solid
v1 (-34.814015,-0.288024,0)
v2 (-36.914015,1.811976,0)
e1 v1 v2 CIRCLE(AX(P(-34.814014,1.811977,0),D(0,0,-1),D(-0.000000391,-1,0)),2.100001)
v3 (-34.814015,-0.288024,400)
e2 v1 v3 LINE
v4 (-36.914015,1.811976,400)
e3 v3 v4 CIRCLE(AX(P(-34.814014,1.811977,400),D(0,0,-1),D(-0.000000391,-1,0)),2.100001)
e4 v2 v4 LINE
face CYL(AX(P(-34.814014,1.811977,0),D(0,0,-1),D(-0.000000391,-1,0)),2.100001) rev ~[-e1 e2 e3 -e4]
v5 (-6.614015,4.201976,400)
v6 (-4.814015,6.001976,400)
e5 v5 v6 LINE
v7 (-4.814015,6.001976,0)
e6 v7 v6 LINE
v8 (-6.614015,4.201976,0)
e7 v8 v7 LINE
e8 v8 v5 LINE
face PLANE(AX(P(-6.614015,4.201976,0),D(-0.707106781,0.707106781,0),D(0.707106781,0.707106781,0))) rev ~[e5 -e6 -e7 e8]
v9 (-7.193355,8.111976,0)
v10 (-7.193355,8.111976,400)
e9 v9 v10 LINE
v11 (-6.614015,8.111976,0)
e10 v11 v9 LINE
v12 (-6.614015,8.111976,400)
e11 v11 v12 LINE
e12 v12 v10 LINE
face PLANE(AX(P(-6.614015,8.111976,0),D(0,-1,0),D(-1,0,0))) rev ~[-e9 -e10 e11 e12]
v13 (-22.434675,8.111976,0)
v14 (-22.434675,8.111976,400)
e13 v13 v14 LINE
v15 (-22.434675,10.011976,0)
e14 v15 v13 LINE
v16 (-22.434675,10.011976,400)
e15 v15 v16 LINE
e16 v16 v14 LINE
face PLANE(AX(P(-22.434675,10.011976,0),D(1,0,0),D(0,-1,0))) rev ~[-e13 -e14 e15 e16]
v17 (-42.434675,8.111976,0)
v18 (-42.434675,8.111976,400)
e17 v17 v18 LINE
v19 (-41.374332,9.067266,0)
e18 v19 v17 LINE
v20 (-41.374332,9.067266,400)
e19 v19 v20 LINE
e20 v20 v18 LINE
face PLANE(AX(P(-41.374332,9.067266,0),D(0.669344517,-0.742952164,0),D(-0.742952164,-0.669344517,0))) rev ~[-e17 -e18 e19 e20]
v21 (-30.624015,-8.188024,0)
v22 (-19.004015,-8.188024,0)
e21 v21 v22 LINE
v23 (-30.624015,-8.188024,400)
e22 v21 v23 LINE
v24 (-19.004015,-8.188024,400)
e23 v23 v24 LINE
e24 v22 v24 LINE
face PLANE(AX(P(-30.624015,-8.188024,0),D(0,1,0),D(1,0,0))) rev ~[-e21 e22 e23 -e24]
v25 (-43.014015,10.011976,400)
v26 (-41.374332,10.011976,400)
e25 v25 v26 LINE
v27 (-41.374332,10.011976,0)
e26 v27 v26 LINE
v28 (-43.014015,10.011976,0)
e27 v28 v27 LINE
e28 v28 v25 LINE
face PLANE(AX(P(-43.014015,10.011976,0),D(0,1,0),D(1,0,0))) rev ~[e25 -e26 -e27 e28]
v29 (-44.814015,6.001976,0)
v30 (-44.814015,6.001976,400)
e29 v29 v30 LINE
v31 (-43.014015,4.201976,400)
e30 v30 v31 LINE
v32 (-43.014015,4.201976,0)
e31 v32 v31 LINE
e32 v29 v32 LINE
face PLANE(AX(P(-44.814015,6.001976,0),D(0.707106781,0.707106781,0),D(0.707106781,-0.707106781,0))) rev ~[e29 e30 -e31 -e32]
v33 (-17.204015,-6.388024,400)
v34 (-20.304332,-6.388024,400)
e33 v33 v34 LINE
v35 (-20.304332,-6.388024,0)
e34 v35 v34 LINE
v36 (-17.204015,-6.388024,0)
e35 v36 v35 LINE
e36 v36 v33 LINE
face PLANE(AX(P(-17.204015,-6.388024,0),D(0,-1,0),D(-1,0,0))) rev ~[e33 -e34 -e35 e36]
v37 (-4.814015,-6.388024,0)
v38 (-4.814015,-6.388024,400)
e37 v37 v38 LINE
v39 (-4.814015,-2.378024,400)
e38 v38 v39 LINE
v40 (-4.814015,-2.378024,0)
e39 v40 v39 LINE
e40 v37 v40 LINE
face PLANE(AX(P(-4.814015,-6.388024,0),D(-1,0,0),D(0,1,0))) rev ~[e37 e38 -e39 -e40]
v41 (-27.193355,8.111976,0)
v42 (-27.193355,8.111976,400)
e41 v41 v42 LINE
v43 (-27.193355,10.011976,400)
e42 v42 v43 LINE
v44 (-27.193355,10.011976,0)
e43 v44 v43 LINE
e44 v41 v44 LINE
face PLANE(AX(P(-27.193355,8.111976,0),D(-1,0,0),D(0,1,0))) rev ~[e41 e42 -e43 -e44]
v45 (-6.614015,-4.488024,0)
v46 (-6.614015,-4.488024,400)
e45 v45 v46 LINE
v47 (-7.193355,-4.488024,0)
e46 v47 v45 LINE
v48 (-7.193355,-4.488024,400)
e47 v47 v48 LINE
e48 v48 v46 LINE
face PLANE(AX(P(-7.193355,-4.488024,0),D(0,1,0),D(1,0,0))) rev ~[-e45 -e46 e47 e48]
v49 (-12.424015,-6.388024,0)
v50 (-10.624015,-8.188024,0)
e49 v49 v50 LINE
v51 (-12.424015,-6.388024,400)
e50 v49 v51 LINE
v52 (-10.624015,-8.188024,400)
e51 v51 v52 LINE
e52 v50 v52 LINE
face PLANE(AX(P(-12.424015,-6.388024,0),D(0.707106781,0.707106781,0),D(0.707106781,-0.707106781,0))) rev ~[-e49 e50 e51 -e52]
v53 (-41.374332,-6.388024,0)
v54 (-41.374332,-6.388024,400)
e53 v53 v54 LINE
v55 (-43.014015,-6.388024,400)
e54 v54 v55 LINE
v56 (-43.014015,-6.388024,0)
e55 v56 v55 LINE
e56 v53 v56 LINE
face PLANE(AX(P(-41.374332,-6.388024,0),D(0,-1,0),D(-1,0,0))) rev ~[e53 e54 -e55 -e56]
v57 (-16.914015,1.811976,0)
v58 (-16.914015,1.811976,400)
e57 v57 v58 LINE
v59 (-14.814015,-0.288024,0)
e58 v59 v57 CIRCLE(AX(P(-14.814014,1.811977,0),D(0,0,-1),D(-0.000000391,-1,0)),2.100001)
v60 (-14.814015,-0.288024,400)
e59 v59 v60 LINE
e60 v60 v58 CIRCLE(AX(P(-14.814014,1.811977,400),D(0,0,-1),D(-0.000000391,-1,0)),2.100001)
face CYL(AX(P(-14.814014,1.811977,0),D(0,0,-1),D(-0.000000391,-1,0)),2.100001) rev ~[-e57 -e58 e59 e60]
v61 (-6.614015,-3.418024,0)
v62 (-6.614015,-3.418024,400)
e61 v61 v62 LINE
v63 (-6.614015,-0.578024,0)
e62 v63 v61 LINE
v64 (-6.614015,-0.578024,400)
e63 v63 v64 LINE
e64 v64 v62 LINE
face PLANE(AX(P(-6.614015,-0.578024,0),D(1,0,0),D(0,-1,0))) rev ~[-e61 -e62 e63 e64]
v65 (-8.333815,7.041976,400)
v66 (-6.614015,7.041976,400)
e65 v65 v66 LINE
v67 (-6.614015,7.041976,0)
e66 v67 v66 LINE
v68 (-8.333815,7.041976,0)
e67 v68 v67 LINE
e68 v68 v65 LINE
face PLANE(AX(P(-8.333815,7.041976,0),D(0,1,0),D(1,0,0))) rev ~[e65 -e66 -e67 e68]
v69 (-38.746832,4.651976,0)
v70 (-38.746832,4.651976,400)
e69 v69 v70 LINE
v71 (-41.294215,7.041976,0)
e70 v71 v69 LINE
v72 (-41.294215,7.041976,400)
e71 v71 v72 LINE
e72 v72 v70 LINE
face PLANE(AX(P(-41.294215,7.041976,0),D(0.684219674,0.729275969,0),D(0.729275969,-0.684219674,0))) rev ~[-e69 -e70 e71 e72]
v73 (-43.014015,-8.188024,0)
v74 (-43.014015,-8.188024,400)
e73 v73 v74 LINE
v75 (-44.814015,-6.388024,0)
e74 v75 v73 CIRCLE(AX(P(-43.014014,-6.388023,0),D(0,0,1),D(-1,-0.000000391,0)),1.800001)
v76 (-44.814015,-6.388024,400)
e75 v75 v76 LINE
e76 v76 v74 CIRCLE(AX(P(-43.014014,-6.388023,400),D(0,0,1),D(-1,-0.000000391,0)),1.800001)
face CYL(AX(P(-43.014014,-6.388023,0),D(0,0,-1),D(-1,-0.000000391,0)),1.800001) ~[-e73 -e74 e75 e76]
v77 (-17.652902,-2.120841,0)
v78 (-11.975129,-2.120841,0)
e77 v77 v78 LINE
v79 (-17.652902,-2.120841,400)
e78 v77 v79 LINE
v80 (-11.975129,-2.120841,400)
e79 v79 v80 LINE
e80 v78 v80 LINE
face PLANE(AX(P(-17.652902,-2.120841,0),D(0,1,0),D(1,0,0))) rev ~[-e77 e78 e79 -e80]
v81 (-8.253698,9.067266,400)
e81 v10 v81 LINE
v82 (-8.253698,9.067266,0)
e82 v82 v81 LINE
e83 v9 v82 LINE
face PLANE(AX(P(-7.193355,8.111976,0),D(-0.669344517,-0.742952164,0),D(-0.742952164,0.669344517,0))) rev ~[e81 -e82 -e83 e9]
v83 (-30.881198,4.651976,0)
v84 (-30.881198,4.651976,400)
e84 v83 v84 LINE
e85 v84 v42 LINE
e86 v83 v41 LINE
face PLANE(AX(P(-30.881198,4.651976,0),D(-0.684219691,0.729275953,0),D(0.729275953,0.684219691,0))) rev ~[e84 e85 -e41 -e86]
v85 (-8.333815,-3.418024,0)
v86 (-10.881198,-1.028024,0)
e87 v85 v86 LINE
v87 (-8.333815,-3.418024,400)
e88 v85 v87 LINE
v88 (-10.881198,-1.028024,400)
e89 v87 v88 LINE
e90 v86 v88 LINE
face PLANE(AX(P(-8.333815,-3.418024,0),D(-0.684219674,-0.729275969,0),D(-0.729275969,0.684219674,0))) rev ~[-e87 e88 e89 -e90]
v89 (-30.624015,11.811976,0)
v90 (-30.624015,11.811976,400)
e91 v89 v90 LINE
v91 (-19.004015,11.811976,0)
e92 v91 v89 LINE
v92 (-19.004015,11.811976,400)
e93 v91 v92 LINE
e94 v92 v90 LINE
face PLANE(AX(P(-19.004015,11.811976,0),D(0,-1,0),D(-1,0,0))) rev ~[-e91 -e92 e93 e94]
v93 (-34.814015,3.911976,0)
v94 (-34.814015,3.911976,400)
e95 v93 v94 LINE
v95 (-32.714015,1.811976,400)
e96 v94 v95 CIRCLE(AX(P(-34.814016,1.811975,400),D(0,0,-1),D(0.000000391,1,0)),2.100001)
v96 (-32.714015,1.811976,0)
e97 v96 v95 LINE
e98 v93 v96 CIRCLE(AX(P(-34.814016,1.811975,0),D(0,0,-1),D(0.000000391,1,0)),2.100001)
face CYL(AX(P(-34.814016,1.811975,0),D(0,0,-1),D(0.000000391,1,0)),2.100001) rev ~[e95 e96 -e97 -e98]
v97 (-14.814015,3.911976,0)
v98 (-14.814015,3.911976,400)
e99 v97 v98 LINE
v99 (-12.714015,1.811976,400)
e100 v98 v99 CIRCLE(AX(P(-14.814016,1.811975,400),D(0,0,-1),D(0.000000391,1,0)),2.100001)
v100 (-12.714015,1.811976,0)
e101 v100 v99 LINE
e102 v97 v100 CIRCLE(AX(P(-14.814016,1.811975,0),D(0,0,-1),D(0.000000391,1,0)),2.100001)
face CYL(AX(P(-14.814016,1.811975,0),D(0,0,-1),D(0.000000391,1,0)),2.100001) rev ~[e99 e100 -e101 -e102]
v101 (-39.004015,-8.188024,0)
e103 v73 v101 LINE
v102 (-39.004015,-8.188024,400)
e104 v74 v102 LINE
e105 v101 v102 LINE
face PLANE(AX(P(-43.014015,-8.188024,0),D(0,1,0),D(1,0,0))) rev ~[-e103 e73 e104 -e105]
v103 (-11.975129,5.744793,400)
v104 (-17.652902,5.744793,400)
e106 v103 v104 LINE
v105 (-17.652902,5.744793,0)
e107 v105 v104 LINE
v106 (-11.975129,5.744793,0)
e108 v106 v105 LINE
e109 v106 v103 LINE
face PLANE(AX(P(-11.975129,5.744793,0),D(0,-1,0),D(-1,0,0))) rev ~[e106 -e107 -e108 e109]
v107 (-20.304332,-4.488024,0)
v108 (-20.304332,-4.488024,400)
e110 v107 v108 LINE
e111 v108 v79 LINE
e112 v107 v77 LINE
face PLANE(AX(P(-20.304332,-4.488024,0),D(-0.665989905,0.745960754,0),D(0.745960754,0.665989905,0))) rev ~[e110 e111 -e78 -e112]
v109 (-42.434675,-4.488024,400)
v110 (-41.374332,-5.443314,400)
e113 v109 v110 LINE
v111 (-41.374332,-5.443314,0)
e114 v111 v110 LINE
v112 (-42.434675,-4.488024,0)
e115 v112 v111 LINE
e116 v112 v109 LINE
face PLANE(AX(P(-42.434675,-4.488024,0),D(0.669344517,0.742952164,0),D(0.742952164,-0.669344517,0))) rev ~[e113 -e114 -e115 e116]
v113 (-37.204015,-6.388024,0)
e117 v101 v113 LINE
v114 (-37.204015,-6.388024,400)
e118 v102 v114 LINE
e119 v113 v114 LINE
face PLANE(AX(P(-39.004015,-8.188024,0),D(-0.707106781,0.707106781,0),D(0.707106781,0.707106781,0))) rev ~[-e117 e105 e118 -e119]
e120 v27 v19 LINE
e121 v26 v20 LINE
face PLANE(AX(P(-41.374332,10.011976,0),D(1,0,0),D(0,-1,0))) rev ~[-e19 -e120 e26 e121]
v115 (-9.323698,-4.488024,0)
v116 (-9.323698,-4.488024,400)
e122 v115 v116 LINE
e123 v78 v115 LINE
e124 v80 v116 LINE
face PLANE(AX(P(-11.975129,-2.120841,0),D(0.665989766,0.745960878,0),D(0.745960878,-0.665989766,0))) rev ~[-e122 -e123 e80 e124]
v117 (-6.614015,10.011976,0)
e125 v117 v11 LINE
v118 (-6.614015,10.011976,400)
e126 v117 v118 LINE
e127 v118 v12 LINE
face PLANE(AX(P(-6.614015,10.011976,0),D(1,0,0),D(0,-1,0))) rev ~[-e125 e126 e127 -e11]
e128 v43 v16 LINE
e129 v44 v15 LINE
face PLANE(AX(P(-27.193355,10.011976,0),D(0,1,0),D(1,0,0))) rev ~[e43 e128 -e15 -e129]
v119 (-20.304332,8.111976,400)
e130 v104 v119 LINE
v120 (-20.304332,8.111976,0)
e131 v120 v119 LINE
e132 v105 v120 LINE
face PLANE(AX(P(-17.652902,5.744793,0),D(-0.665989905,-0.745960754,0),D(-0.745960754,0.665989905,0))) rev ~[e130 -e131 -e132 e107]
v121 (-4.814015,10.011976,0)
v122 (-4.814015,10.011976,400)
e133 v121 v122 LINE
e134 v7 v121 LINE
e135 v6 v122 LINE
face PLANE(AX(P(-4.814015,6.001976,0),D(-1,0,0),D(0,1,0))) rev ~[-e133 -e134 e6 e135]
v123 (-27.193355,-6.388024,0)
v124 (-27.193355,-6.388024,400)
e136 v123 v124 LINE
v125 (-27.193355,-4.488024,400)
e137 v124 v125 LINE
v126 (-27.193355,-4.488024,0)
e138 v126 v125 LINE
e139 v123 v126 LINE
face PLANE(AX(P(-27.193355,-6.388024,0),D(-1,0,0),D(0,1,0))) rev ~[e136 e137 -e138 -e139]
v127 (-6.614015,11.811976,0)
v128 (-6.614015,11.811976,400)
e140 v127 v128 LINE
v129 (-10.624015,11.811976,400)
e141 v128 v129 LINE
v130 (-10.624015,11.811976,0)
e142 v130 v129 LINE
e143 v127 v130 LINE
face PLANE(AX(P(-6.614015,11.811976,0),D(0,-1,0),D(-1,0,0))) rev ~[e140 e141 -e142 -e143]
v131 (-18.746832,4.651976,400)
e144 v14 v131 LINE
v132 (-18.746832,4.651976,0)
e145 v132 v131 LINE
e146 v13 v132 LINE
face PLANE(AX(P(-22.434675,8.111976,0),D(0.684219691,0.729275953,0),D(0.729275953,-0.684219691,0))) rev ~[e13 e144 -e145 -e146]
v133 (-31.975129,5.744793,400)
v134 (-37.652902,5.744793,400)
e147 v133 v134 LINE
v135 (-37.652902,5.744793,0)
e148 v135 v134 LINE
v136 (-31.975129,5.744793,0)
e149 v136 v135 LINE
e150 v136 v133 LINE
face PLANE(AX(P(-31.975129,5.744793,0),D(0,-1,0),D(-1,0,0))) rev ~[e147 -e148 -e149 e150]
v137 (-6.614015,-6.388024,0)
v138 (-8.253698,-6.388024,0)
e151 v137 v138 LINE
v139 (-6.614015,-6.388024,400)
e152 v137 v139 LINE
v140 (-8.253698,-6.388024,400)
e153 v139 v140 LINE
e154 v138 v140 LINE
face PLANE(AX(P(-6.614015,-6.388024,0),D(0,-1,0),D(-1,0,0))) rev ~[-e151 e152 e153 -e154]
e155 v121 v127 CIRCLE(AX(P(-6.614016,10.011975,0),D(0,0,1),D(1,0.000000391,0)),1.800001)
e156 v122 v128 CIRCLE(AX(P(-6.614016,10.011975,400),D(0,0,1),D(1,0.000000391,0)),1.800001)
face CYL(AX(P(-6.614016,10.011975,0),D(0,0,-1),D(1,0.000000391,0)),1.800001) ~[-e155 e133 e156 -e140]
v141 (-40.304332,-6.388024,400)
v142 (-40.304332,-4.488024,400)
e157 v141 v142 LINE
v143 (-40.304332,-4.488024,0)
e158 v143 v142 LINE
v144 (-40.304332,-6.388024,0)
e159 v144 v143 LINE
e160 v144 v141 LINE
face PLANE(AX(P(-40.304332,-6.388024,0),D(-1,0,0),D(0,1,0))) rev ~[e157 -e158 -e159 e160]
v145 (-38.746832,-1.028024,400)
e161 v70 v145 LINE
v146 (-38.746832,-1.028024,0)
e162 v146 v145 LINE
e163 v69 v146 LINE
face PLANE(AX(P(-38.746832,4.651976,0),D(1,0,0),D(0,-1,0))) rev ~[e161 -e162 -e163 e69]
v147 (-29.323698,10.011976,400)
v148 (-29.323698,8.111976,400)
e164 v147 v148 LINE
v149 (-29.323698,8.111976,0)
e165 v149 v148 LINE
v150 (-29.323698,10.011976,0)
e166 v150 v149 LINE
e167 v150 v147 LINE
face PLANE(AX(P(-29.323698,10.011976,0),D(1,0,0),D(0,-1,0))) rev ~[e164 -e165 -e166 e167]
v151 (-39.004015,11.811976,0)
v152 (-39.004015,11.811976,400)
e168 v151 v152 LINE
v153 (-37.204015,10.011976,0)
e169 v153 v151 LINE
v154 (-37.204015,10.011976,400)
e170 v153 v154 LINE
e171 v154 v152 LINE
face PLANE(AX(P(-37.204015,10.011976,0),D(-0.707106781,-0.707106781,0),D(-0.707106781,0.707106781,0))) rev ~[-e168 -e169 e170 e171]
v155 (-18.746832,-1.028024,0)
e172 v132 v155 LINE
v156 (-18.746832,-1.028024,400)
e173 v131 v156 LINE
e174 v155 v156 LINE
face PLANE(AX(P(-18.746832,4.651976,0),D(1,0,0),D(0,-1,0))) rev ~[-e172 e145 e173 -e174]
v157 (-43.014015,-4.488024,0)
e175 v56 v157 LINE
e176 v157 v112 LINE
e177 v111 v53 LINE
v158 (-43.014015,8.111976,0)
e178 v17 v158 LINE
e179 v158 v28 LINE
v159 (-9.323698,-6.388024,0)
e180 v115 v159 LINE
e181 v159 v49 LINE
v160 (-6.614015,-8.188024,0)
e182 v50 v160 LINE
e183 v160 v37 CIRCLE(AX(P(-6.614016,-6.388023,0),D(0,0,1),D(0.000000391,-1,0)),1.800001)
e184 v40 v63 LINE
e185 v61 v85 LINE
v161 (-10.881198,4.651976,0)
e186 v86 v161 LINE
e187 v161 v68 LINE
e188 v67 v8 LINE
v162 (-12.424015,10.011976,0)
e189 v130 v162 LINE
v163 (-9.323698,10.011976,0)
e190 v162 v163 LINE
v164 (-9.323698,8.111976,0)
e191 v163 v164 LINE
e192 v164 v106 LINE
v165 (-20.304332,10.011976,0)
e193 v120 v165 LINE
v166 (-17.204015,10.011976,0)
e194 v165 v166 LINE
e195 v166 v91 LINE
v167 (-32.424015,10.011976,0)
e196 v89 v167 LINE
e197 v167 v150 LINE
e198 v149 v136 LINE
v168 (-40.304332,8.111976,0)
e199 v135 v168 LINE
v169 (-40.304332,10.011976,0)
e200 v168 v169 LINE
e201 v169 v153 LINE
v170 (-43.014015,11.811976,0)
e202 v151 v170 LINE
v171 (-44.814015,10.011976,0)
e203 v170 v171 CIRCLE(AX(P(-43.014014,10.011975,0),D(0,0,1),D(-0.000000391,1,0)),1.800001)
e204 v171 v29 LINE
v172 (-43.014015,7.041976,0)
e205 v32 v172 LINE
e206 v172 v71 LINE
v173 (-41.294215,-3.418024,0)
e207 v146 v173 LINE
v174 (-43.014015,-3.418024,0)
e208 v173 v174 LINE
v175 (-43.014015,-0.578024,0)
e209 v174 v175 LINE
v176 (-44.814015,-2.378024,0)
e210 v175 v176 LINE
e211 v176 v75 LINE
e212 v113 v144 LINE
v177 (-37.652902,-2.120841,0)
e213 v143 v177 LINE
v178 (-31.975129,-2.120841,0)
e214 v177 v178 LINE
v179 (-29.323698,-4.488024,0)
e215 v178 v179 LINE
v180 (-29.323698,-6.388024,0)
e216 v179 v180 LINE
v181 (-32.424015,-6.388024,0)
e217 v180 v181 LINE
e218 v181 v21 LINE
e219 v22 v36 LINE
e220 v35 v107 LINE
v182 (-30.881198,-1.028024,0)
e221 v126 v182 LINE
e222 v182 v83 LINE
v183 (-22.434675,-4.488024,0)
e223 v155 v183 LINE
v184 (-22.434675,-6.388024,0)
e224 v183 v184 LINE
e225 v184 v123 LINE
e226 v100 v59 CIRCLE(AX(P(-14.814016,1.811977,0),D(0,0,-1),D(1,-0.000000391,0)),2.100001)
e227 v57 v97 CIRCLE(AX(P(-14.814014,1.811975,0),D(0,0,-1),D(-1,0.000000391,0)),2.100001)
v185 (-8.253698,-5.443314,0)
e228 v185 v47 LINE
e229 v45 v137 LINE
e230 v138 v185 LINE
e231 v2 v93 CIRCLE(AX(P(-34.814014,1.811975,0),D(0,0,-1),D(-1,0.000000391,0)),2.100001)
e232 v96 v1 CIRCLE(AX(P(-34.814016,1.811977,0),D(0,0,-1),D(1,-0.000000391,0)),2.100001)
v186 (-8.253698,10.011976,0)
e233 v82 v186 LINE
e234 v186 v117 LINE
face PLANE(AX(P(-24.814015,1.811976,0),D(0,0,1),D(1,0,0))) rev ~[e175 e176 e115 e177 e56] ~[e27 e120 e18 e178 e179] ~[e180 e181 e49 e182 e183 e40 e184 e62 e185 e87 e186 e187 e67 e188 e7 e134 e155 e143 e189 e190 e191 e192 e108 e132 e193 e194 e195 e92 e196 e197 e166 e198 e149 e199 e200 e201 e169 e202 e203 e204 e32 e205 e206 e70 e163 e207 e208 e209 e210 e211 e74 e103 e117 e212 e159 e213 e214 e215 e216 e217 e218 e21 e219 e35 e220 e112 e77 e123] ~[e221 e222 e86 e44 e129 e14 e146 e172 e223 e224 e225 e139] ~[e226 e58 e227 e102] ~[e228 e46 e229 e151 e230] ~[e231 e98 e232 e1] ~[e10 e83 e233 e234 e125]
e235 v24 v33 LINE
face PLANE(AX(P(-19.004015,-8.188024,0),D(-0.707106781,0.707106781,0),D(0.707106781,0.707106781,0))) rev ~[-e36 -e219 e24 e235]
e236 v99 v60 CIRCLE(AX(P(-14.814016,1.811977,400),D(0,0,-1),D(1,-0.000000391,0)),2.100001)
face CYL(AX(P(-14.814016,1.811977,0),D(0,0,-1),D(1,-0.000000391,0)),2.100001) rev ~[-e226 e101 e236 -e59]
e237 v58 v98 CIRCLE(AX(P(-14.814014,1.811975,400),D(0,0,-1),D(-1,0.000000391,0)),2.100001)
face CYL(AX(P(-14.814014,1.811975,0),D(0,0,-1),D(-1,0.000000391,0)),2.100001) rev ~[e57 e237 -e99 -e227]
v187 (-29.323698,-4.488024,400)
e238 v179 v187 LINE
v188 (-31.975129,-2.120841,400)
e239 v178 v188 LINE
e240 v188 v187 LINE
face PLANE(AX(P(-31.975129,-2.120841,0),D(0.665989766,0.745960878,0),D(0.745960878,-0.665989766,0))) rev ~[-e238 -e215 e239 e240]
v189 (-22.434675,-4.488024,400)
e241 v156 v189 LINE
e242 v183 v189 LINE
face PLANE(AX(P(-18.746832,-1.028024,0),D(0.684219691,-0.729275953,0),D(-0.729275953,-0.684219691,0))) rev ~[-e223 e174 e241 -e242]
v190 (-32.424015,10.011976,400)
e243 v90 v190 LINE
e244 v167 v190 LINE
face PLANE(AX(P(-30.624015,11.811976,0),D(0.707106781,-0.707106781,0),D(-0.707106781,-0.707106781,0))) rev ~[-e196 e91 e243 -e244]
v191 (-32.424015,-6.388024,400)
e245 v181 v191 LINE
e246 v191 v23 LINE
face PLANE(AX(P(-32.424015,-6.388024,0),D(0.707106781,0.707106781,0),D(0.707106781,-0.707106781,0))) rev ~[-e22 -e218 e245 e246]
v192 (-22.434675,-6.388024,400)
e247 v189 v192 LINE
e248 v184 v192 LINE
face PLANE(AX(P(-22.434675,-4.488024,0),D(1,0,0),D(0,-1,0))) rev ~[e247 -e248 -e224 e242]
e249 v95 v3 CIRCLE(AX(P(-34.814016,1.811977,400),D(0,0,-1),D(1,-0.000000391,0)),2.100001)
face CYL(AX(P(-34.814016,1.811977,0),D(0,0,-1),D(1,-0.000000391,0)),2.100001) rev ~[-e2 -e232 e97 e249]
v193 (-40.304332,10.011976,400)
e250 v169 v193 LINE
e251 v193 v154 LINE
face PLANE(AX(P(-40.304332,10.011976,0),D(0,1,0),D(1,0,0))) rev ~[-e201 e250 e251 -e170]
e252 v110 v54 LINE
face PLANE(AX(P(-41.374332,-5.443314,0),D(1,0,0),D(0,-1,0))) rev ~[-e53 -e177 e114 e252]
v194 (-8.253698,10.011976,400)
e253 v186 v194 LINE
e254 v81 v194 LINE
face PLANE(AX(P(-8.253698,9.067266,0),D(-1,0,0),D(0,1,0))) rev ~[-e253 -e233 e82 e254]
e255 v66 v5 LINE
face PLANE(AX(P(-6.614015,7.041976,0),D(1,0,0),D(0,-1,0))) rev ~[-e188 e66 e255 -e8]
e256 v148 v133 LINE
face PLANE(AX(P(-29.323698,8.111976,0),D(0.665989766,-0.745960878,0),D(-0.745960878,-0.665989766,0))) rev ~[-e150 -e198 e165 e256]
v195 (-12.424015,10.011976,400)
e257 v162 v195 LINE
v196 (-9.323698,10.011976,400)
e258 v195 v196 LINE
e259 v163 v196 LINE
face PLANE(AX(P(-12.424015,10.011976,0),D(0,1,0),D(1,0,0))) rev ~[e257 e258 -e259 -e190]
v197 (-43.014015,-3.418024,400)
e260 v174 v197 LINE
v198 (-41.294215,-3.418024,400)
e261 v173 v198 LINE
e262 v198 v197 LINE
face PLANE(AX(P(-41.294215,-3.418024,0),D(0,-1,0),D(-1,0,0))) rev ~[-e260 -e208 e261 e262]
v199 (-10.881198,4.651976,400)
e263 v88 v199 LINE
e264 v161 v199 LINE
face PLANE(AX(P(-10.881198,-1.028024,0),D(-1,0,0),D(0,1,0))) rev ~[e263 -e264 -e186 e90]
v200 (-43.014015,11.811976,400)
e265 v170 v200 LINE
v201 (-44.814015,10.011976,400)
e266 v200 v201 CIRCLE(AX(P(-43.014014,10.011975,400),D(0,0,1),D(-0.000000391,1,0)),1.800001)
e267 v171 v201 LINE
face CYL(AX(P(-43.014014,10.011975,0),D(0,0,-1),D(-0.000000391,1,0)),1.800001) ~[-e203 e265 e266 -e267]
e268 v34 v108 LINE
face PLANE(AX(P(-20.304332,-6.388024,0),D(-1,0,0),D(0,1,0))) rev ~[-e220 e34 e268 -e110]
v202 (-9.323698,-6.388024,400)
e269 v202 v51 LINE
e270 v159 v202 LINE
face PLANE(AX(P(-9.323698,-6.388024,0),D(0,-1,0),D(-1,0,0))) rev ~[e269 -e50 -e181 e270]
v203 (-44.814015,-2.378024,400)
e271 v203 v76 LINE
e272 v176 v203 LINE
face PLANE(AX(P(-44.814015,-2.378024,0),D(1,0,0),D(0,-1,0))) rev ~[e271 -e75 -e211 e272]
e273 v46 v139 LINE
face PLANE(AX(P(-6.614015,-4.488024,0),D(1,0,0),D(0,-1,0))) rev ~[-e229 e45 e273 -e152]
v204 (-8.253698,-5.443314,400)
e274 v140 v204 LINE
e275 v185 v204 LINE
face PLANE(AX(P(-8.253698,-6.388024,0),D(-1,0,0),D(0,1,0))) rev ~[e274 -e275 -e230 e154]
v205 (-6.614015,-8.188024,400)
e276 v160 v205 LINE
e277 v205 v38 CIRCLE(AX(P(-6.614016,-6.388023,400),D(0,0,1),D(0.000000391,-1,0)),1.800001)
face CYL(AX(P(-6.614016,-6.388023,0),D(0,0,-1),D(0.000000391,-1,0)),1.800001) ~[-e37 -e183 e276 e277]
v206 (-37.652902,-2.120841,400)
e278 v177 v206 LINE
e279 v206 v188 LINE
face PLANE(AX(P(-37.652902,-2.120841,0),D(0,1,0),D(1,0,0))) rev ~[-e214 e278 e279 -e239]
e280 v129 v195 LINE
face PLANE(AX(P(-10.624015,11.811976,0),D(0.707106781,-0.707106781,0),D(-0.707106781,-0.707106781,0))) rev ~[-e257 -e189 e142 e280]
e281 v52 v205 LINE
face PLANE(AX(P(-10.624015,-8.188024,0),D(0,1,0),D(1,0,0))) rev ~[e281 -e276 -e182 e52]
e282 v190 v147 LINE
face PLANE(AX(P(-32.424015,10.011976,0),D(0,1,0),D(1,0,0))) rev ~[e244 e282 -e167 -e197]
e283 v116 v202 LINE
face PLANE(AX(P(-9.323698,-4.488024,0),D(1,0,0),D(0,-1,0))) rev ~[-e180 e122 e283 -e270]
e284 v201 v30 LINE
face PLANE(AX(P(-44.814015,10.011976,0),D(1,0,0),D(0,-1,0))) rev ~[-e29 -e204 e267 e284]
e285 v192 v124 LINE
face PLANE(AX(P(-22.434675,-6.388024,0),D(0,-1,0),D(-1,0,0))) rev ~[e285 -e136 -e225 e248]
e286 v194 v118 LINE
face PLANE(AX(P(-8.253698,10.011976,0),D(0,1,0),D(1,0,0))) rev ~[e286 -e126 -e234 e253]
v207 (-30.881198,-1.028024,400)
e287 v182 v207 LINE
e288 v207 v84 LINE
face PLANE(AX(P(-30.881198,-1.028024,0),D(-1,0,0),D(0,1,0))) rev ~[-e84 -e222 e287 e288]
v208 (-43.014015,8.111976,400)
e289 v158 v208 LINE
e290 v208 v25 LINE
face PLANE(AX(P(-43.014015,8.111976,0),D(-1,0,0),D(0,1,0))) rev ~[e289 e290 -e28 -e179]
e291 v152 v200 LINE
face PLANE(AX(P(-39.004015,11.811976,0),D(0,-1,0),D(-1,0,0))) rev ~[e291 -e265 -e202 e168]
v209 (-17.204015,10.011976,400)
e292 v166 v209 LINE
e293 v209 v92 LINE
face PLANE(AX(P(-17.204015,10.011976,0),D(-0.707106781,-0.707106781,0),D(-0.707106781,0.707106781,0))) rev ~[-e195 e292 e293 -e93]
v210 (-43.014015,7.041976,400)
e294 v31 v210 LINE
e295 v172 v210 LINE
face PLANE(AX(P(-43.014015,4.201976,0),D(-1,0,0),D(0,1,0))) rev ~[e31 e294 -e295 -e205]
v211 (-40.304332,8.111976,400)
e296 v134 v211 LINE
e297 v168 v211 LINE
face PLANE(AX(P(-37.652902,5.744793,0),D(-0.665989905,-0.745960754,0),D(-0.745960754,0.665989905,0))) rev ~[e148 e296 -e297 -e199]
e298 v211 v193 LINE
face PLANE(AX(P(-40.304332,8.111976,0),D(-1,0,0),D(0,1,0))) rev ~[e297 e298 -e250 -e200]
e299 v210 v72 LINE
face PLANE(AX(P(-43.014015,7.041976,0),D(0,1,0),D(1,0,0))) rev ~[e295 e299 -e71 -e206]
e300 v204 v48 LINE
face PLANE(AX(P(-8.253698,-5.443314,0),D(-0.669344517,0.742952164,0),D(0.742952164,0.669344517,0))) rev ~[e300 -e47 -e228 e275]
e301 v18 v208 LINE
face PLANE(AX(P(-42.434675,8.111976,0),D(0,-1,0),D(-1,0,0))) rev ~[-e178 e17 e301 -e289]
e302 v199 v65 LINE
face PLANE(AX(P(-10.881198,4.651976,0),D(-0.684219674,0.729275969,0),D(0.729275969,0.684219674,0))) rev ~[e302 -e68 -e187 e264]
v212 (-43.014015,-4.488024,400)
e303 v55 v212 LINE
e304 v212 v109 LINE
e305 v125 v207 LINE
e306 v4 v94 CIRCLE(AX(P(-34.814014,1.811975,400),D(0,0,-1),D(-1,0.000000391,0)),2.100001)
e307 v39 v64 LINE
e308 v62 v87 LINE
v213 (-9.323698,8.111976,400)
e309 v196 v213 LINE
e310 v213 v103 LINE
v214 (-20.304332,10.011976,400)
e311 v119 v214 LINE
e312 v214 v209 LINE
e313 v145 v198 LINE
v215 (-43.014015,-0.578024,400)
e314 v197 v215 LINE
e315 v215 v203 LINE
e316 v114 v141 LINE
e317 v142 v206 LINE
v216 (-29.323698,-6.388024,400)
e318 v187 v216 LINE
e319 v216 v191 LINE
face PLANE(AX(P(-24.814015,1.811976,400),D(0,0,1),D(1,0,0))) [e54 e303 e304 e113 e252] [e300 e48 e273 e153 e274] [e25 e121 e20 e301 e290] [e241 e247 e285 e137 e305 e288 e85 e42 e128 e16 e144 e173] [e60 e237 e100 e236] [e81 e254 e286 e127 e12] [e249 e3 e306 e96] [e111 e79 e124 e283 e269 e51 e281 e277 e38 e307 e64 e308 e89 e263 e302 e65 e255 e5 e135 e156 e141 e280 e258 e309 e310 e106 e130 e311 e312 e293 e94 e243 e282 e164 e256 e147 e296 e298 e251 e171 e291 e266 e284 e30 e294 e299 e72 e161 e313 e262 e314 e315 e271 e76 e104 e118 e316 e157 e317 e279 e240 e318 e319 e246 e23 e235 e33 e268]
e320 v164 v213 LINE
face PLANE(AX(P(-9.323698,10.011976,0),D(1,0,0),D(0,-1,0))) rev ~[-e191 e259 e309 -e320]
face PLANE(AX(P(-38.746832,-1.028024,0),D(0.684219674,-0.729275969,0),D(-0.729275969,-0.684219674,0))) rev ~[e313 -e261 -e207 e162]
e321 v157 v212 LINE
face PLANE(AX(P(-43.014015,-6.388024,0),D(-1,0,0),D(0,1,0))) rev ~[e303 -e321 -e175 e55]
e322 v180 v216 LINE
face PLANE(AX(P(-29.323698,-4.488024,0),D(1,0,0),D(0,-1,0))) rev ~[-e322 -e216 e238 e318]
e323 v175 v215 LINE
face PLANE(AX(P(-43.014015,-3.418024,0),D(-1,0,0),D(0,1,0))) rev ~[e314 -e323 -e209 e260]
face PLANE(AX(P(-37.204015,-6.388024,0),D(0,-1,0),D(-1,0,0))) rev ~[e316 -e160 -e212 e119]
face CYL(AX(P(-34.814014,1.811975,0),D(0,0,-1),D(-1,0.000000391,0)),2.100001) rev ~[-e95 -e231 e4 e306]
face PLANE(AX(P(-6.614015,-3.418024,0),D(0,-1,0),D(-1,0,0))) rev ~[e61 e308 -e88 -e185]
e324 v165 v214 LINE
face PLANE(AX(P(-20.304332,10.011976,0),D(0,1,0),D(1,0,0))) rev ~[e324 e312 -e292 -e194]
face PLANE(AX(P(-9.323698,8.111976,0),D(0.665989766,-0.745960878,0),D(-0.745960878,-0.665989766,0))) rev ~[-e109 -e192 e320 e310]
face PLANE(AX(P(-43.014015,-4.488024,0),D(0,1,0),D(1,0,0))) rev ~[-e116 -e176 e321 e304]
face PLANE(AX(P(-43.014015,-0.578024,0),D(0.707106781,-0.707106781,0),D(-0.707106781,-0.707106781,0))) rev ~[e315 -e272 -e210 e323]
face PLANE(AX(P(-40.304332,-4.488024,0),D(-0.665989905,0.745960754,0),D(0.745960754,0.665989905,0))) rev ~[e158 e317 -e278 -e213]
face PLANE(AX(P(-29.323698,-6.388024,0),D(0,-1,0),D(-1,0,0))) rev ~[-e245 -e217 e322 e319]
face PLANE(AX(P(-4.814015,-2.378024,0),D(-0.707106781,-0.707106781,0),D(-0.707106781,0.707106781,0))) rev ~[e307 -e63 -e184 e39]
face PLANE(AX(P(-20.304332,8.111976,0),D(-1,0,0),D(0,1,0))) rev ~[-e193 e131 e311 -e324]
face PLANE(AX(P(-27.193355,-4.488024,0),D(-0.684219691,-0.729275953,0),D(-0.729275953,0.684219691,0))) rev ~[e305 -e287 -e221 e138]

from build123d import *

# Parameters (mm, degrees)
F1_DEPTH = 400


with BuildPart() as f1:
    # F0 (on Top) → F1 (new body)
    with BuildSketch(Plane.XY):
        with BuildLine():
            ThreePointArc((-43.014015, 11.811976), (-44.286807, 11.284768), (-44.814015, 10.011976))
            Line((-44.814015, 10.011976), (-44.814015, 6.001976))
            Line((-44.814015, 6.001976), (-43.014015, 4.201976))
            Line((-43.014015, 4.201976), (-43.014015, 7.041976))
            Line((-43.014015, 7.041976), (-41.294215, 7.041976))
            Line((-41.294215, 7.041976), (-38.746832, 4.651976))
            Line((-38.746832, 4.651976), (-38.746832, 1.811976))
            Line((-38.746832, 1.811976), (-38.746832, -1.028024))
            Line((-38.746832, -1.028024), (-41.294215, -3.418024))
            Line((-41.294215, -3.418024), (-43.014015, -3.418024))
            Line((-43.014015, -3.418024), (-43.014015, -0.578024))
            Line((-43.014015, -0.578024), (-44.814015, -2.378024))
            Line((-44.814015, -2.378024), (-44.814015, -6.388024))
            ThreePointArc((-44.814015, -6.388024), (-44.286807, -7.660816), (-43.014015, -8.188024))
            Line((-43.014015, -8.188024), (-39.004015, -8.188024))
            Line((-39.004015, -8.188024), (-37.204015, -6.388024))
            Line((-37.204015, -6.388024), (-40.304332, -6.388024))
            Line((-40.304332, -6.388024), (-40.304332, -4.488024))
            Line((-40.304332, -4.488024), (-37.652902, -2.120841))
            Line((-37.652902, -2.120841), (-34.814015, -2.120841))
            Line((-34.814015, -2.120841), (-31.975129, -2.120841))
            Line((-31.975129, -2.120841), (-29.323698, -4.488024))
            Line((-29.323698, -4.488024), (-29.323698, -6.388024))
            Line((-29.323698, -6.388024), (-32.424015, -6.388024))
            Line((-32.424015, -6.388024), (-30.624015, -8.188024))
            Line((-30.624015, -8.188024), (-26.614015, -8.188024))
            Line((-26.614015, -8.188024), (-23.014015, -8.188024))
            Line((-23.014015, -8.188024), (-19.004015, -8.188024))
            Line((-19.004015, -8.188024), (-17.204015, -6.388024))
            Line((-17.204015, -6.388024), (-20.304332, -6.388024))
            Line((-20.304332, -6.388024), (-20.304332, -4.488024))
            Line((-20.304332, -4.488024), (-17.652902, -2.120841))
            Line((-17.652902, -2.120841), (-14.814015, -2.120841))
            Line((-14.814015, -2.120841), (-11.975129, -2.120841))
            Line((-11.975129, -2.120841), (-9.323698, -4.488024))
            Line((-9.323698, -4.488024), (-9.323698, -6.388024))
            Line((-9.323698, -6.388024), (-12.424015, -6.388024))
            Line((-12.424015, -6.388024), (-10.624015, -8.188024))
            Line((-10.624015, -8.188024), (-6.614015, -8.188024))
            ThreePointArc((-6.614015, -8.188024), (-5.341223, -7.660816), (-4.814015, -6.388024))
            Line((-4.814015, -6.388024), (-4.814015, -2.378024))
            Line((-4.814015, -2.378024), (-6.614015, -0.578024))
            Line((-6.614015, -0.578024), (-6.614015, -3.418024))
            Line((-6.614015, -3.418024), (-8.333815, -3.418024))
            Line((-8.333815, -3.418024), (-10.881198, -1.028024))
            Line((-10.881198, -1.028024), (-10.881198, 1.811976))
            Line((-10.881198, 1.811976), (-10.881198, 4.651976))
            Line((-10.881198, 4.651976), (-8.333815, 7.041976))
            Line((-8.333815, 7.041976), (-6.614015, 7.041976))
            Line((-6.614015, 7.041976), (-6.614015, 4.201976))
            Line((-6.614015, 4.201976), (-4.814015, 6.001976))
            Line((-4.814015, 6.001976), (-4.814015, 10.011976))
            ThreePointArc((-4.814015, 10.011976), (-5.341223, 11.284768), (-6.614015, 11.811976))
            Line((-6.614015, 11.811976), (-10.624015, 11.811976))
            Line((-10.624015, 11.811976), (-12.424015, 10.011976))
            Line((-12.424015, 10.011976), (-9.323698, 10.011976))
            Line((-9.323698, 10.011976), (-9.323698, 8.111976))
            Line((-9.323698, 8.111976), (-11.975129, 5.744793))
            Line((-11.975129, 5.744793), (-14.814015, 5.744793))
            Line((-14.814015, 5.744793), (-17.652902, 5.744793))
            Line((-17.652902, 5.744793), (-20.304332, 8.111976))
            Line((-20.304332, 8.111976), (-20.304332, 10.011976))
            Line((-20.304332, 10.011976), (-17.204015, 10.011976))
            Line((-17.204015, 10.011976), (-19.004015, 11.811976))
            Line((-19.004015, 11.811976), (-23.014015, 11.811976))
            Line((-23.014015, 11.811976), (-26.614015, 11.811976))
            Line((-26.614015, 11.811976), (-30.624015, 11.811976))
            Line((-30.624015, 11.811976), (-32.424015, 10.011976))
            Line((-32.424015, 10.011976), (-29.323698, 10.011976))
            Line((-29.323698, 10.011976), (-29.323698, 8.111976))
            Line((-29.323698, 8.111976), (-31.975129, 5.744793))
            Line((-31.975129, 5.744793), (-34.814015, 5.744793))
            Line((-34.814015, 5.744793), (-37.652902, 5.744793))
            Line((-37.652902, 5.744793), (-40.304332, 8.111976))
            Line((-40.304332, 8.111976), (-40.304332, 10.011976))
            Line((-40.304332, 10.011976), (-37.204015, 10.011976))
            Line((-37.204015, 10.011976), (-39.004015, 11.811976))
            Line((-39.004015, 11.811976), (-43.014015, 11.811976))
        make_face()
        Polygon((-43.014015, -4.488024), (-42.434675, -4.488024), (-41.374332, -5.443314), (-41.374332, -6.388024), (-43.014015, -6.388024), align=None, mode=Mode.SUBTRACT)
        Polygon((-6.614015, -6.388024), (-8.253698, -6.388024), (-8.253698, -5.443314), (-7.193355, -4.488024), (-6.614015, -4.488024), align=None, mode=Mode.SUBTRACT)
        with BuildLine():
            ThreePointArc((-36.914015, 1.811976), (-36.298939, 3.2969), (-34.814015, 3.911976))
            ThreePointArc((-34.814015, 3.911976), (-33.329091, 3.2969), (-32.714015, 1.811976))
            ThreePointArc((-32.714015, 1.811976), (-33.329091, 0.327052), (-34.814015, -0.288024))
            ThreePointArc((-34.814015, -0.288024), (-36.298939, 0.327052), (-36.914015, 1.811976))
        make_face(mode=Mode.SUBTRACT)
        Polygon((-30.881198, 1.811976), (-30.881198, 4.651976), (-27.193355, 8.111976), (-27.193355, 10.011976), (-22.434675, 10.011976), (-22.434675, 8.111976), (-18.746832, 4.651976), (-18.746832, 1.811976), (-18.746832, -1.028024), (-22.434675, -4.488024), (-22.434675, -6.388024), (-27.193355, -6.388024), (-27.193355, -4.488024), (-30.881198, -1.028024), align=None, mode=Mode.SUBTRACT)
        Polygon((-43.014015, 8.111976), (-43.014015, 10.011976), (-41.374332, 10.011976), (-41.374332, 9.067266), (-42.434675, 8.111976), align=None, mode=Mode.SUBTRACT)
        with BuildLine():
            ThreePointArc((-16.914015, 1.811976), (-16.298939, 3.2969), (-14.814015, 3.911976))
            ThreePointArc((-14.814015, 3.911976), (-13.329091, 3.2969), (-12.714015, 1.811976))
            ThreePointArc((-12.714015, 1.811976), (-13.329091, 0.327052), (-14.814015, -0.288024))
            ThreePointArc((-14.814015, -0.288024), (-16.298939, 0.327052), (-16.914015, 1.811976))
        make_face(mode=Mode.SUBTRACT)
        Polygon((-8.253698, 9.067266), (-8.253698, 10.011976), (-6.614015, 10.011976), (-6.614015, 8.111976), (-7.193355, 8.111976), align=None, mode=Mode.SUBTRACT)
    extrude(amount=F1_DEPTH)


solid = f1.part
